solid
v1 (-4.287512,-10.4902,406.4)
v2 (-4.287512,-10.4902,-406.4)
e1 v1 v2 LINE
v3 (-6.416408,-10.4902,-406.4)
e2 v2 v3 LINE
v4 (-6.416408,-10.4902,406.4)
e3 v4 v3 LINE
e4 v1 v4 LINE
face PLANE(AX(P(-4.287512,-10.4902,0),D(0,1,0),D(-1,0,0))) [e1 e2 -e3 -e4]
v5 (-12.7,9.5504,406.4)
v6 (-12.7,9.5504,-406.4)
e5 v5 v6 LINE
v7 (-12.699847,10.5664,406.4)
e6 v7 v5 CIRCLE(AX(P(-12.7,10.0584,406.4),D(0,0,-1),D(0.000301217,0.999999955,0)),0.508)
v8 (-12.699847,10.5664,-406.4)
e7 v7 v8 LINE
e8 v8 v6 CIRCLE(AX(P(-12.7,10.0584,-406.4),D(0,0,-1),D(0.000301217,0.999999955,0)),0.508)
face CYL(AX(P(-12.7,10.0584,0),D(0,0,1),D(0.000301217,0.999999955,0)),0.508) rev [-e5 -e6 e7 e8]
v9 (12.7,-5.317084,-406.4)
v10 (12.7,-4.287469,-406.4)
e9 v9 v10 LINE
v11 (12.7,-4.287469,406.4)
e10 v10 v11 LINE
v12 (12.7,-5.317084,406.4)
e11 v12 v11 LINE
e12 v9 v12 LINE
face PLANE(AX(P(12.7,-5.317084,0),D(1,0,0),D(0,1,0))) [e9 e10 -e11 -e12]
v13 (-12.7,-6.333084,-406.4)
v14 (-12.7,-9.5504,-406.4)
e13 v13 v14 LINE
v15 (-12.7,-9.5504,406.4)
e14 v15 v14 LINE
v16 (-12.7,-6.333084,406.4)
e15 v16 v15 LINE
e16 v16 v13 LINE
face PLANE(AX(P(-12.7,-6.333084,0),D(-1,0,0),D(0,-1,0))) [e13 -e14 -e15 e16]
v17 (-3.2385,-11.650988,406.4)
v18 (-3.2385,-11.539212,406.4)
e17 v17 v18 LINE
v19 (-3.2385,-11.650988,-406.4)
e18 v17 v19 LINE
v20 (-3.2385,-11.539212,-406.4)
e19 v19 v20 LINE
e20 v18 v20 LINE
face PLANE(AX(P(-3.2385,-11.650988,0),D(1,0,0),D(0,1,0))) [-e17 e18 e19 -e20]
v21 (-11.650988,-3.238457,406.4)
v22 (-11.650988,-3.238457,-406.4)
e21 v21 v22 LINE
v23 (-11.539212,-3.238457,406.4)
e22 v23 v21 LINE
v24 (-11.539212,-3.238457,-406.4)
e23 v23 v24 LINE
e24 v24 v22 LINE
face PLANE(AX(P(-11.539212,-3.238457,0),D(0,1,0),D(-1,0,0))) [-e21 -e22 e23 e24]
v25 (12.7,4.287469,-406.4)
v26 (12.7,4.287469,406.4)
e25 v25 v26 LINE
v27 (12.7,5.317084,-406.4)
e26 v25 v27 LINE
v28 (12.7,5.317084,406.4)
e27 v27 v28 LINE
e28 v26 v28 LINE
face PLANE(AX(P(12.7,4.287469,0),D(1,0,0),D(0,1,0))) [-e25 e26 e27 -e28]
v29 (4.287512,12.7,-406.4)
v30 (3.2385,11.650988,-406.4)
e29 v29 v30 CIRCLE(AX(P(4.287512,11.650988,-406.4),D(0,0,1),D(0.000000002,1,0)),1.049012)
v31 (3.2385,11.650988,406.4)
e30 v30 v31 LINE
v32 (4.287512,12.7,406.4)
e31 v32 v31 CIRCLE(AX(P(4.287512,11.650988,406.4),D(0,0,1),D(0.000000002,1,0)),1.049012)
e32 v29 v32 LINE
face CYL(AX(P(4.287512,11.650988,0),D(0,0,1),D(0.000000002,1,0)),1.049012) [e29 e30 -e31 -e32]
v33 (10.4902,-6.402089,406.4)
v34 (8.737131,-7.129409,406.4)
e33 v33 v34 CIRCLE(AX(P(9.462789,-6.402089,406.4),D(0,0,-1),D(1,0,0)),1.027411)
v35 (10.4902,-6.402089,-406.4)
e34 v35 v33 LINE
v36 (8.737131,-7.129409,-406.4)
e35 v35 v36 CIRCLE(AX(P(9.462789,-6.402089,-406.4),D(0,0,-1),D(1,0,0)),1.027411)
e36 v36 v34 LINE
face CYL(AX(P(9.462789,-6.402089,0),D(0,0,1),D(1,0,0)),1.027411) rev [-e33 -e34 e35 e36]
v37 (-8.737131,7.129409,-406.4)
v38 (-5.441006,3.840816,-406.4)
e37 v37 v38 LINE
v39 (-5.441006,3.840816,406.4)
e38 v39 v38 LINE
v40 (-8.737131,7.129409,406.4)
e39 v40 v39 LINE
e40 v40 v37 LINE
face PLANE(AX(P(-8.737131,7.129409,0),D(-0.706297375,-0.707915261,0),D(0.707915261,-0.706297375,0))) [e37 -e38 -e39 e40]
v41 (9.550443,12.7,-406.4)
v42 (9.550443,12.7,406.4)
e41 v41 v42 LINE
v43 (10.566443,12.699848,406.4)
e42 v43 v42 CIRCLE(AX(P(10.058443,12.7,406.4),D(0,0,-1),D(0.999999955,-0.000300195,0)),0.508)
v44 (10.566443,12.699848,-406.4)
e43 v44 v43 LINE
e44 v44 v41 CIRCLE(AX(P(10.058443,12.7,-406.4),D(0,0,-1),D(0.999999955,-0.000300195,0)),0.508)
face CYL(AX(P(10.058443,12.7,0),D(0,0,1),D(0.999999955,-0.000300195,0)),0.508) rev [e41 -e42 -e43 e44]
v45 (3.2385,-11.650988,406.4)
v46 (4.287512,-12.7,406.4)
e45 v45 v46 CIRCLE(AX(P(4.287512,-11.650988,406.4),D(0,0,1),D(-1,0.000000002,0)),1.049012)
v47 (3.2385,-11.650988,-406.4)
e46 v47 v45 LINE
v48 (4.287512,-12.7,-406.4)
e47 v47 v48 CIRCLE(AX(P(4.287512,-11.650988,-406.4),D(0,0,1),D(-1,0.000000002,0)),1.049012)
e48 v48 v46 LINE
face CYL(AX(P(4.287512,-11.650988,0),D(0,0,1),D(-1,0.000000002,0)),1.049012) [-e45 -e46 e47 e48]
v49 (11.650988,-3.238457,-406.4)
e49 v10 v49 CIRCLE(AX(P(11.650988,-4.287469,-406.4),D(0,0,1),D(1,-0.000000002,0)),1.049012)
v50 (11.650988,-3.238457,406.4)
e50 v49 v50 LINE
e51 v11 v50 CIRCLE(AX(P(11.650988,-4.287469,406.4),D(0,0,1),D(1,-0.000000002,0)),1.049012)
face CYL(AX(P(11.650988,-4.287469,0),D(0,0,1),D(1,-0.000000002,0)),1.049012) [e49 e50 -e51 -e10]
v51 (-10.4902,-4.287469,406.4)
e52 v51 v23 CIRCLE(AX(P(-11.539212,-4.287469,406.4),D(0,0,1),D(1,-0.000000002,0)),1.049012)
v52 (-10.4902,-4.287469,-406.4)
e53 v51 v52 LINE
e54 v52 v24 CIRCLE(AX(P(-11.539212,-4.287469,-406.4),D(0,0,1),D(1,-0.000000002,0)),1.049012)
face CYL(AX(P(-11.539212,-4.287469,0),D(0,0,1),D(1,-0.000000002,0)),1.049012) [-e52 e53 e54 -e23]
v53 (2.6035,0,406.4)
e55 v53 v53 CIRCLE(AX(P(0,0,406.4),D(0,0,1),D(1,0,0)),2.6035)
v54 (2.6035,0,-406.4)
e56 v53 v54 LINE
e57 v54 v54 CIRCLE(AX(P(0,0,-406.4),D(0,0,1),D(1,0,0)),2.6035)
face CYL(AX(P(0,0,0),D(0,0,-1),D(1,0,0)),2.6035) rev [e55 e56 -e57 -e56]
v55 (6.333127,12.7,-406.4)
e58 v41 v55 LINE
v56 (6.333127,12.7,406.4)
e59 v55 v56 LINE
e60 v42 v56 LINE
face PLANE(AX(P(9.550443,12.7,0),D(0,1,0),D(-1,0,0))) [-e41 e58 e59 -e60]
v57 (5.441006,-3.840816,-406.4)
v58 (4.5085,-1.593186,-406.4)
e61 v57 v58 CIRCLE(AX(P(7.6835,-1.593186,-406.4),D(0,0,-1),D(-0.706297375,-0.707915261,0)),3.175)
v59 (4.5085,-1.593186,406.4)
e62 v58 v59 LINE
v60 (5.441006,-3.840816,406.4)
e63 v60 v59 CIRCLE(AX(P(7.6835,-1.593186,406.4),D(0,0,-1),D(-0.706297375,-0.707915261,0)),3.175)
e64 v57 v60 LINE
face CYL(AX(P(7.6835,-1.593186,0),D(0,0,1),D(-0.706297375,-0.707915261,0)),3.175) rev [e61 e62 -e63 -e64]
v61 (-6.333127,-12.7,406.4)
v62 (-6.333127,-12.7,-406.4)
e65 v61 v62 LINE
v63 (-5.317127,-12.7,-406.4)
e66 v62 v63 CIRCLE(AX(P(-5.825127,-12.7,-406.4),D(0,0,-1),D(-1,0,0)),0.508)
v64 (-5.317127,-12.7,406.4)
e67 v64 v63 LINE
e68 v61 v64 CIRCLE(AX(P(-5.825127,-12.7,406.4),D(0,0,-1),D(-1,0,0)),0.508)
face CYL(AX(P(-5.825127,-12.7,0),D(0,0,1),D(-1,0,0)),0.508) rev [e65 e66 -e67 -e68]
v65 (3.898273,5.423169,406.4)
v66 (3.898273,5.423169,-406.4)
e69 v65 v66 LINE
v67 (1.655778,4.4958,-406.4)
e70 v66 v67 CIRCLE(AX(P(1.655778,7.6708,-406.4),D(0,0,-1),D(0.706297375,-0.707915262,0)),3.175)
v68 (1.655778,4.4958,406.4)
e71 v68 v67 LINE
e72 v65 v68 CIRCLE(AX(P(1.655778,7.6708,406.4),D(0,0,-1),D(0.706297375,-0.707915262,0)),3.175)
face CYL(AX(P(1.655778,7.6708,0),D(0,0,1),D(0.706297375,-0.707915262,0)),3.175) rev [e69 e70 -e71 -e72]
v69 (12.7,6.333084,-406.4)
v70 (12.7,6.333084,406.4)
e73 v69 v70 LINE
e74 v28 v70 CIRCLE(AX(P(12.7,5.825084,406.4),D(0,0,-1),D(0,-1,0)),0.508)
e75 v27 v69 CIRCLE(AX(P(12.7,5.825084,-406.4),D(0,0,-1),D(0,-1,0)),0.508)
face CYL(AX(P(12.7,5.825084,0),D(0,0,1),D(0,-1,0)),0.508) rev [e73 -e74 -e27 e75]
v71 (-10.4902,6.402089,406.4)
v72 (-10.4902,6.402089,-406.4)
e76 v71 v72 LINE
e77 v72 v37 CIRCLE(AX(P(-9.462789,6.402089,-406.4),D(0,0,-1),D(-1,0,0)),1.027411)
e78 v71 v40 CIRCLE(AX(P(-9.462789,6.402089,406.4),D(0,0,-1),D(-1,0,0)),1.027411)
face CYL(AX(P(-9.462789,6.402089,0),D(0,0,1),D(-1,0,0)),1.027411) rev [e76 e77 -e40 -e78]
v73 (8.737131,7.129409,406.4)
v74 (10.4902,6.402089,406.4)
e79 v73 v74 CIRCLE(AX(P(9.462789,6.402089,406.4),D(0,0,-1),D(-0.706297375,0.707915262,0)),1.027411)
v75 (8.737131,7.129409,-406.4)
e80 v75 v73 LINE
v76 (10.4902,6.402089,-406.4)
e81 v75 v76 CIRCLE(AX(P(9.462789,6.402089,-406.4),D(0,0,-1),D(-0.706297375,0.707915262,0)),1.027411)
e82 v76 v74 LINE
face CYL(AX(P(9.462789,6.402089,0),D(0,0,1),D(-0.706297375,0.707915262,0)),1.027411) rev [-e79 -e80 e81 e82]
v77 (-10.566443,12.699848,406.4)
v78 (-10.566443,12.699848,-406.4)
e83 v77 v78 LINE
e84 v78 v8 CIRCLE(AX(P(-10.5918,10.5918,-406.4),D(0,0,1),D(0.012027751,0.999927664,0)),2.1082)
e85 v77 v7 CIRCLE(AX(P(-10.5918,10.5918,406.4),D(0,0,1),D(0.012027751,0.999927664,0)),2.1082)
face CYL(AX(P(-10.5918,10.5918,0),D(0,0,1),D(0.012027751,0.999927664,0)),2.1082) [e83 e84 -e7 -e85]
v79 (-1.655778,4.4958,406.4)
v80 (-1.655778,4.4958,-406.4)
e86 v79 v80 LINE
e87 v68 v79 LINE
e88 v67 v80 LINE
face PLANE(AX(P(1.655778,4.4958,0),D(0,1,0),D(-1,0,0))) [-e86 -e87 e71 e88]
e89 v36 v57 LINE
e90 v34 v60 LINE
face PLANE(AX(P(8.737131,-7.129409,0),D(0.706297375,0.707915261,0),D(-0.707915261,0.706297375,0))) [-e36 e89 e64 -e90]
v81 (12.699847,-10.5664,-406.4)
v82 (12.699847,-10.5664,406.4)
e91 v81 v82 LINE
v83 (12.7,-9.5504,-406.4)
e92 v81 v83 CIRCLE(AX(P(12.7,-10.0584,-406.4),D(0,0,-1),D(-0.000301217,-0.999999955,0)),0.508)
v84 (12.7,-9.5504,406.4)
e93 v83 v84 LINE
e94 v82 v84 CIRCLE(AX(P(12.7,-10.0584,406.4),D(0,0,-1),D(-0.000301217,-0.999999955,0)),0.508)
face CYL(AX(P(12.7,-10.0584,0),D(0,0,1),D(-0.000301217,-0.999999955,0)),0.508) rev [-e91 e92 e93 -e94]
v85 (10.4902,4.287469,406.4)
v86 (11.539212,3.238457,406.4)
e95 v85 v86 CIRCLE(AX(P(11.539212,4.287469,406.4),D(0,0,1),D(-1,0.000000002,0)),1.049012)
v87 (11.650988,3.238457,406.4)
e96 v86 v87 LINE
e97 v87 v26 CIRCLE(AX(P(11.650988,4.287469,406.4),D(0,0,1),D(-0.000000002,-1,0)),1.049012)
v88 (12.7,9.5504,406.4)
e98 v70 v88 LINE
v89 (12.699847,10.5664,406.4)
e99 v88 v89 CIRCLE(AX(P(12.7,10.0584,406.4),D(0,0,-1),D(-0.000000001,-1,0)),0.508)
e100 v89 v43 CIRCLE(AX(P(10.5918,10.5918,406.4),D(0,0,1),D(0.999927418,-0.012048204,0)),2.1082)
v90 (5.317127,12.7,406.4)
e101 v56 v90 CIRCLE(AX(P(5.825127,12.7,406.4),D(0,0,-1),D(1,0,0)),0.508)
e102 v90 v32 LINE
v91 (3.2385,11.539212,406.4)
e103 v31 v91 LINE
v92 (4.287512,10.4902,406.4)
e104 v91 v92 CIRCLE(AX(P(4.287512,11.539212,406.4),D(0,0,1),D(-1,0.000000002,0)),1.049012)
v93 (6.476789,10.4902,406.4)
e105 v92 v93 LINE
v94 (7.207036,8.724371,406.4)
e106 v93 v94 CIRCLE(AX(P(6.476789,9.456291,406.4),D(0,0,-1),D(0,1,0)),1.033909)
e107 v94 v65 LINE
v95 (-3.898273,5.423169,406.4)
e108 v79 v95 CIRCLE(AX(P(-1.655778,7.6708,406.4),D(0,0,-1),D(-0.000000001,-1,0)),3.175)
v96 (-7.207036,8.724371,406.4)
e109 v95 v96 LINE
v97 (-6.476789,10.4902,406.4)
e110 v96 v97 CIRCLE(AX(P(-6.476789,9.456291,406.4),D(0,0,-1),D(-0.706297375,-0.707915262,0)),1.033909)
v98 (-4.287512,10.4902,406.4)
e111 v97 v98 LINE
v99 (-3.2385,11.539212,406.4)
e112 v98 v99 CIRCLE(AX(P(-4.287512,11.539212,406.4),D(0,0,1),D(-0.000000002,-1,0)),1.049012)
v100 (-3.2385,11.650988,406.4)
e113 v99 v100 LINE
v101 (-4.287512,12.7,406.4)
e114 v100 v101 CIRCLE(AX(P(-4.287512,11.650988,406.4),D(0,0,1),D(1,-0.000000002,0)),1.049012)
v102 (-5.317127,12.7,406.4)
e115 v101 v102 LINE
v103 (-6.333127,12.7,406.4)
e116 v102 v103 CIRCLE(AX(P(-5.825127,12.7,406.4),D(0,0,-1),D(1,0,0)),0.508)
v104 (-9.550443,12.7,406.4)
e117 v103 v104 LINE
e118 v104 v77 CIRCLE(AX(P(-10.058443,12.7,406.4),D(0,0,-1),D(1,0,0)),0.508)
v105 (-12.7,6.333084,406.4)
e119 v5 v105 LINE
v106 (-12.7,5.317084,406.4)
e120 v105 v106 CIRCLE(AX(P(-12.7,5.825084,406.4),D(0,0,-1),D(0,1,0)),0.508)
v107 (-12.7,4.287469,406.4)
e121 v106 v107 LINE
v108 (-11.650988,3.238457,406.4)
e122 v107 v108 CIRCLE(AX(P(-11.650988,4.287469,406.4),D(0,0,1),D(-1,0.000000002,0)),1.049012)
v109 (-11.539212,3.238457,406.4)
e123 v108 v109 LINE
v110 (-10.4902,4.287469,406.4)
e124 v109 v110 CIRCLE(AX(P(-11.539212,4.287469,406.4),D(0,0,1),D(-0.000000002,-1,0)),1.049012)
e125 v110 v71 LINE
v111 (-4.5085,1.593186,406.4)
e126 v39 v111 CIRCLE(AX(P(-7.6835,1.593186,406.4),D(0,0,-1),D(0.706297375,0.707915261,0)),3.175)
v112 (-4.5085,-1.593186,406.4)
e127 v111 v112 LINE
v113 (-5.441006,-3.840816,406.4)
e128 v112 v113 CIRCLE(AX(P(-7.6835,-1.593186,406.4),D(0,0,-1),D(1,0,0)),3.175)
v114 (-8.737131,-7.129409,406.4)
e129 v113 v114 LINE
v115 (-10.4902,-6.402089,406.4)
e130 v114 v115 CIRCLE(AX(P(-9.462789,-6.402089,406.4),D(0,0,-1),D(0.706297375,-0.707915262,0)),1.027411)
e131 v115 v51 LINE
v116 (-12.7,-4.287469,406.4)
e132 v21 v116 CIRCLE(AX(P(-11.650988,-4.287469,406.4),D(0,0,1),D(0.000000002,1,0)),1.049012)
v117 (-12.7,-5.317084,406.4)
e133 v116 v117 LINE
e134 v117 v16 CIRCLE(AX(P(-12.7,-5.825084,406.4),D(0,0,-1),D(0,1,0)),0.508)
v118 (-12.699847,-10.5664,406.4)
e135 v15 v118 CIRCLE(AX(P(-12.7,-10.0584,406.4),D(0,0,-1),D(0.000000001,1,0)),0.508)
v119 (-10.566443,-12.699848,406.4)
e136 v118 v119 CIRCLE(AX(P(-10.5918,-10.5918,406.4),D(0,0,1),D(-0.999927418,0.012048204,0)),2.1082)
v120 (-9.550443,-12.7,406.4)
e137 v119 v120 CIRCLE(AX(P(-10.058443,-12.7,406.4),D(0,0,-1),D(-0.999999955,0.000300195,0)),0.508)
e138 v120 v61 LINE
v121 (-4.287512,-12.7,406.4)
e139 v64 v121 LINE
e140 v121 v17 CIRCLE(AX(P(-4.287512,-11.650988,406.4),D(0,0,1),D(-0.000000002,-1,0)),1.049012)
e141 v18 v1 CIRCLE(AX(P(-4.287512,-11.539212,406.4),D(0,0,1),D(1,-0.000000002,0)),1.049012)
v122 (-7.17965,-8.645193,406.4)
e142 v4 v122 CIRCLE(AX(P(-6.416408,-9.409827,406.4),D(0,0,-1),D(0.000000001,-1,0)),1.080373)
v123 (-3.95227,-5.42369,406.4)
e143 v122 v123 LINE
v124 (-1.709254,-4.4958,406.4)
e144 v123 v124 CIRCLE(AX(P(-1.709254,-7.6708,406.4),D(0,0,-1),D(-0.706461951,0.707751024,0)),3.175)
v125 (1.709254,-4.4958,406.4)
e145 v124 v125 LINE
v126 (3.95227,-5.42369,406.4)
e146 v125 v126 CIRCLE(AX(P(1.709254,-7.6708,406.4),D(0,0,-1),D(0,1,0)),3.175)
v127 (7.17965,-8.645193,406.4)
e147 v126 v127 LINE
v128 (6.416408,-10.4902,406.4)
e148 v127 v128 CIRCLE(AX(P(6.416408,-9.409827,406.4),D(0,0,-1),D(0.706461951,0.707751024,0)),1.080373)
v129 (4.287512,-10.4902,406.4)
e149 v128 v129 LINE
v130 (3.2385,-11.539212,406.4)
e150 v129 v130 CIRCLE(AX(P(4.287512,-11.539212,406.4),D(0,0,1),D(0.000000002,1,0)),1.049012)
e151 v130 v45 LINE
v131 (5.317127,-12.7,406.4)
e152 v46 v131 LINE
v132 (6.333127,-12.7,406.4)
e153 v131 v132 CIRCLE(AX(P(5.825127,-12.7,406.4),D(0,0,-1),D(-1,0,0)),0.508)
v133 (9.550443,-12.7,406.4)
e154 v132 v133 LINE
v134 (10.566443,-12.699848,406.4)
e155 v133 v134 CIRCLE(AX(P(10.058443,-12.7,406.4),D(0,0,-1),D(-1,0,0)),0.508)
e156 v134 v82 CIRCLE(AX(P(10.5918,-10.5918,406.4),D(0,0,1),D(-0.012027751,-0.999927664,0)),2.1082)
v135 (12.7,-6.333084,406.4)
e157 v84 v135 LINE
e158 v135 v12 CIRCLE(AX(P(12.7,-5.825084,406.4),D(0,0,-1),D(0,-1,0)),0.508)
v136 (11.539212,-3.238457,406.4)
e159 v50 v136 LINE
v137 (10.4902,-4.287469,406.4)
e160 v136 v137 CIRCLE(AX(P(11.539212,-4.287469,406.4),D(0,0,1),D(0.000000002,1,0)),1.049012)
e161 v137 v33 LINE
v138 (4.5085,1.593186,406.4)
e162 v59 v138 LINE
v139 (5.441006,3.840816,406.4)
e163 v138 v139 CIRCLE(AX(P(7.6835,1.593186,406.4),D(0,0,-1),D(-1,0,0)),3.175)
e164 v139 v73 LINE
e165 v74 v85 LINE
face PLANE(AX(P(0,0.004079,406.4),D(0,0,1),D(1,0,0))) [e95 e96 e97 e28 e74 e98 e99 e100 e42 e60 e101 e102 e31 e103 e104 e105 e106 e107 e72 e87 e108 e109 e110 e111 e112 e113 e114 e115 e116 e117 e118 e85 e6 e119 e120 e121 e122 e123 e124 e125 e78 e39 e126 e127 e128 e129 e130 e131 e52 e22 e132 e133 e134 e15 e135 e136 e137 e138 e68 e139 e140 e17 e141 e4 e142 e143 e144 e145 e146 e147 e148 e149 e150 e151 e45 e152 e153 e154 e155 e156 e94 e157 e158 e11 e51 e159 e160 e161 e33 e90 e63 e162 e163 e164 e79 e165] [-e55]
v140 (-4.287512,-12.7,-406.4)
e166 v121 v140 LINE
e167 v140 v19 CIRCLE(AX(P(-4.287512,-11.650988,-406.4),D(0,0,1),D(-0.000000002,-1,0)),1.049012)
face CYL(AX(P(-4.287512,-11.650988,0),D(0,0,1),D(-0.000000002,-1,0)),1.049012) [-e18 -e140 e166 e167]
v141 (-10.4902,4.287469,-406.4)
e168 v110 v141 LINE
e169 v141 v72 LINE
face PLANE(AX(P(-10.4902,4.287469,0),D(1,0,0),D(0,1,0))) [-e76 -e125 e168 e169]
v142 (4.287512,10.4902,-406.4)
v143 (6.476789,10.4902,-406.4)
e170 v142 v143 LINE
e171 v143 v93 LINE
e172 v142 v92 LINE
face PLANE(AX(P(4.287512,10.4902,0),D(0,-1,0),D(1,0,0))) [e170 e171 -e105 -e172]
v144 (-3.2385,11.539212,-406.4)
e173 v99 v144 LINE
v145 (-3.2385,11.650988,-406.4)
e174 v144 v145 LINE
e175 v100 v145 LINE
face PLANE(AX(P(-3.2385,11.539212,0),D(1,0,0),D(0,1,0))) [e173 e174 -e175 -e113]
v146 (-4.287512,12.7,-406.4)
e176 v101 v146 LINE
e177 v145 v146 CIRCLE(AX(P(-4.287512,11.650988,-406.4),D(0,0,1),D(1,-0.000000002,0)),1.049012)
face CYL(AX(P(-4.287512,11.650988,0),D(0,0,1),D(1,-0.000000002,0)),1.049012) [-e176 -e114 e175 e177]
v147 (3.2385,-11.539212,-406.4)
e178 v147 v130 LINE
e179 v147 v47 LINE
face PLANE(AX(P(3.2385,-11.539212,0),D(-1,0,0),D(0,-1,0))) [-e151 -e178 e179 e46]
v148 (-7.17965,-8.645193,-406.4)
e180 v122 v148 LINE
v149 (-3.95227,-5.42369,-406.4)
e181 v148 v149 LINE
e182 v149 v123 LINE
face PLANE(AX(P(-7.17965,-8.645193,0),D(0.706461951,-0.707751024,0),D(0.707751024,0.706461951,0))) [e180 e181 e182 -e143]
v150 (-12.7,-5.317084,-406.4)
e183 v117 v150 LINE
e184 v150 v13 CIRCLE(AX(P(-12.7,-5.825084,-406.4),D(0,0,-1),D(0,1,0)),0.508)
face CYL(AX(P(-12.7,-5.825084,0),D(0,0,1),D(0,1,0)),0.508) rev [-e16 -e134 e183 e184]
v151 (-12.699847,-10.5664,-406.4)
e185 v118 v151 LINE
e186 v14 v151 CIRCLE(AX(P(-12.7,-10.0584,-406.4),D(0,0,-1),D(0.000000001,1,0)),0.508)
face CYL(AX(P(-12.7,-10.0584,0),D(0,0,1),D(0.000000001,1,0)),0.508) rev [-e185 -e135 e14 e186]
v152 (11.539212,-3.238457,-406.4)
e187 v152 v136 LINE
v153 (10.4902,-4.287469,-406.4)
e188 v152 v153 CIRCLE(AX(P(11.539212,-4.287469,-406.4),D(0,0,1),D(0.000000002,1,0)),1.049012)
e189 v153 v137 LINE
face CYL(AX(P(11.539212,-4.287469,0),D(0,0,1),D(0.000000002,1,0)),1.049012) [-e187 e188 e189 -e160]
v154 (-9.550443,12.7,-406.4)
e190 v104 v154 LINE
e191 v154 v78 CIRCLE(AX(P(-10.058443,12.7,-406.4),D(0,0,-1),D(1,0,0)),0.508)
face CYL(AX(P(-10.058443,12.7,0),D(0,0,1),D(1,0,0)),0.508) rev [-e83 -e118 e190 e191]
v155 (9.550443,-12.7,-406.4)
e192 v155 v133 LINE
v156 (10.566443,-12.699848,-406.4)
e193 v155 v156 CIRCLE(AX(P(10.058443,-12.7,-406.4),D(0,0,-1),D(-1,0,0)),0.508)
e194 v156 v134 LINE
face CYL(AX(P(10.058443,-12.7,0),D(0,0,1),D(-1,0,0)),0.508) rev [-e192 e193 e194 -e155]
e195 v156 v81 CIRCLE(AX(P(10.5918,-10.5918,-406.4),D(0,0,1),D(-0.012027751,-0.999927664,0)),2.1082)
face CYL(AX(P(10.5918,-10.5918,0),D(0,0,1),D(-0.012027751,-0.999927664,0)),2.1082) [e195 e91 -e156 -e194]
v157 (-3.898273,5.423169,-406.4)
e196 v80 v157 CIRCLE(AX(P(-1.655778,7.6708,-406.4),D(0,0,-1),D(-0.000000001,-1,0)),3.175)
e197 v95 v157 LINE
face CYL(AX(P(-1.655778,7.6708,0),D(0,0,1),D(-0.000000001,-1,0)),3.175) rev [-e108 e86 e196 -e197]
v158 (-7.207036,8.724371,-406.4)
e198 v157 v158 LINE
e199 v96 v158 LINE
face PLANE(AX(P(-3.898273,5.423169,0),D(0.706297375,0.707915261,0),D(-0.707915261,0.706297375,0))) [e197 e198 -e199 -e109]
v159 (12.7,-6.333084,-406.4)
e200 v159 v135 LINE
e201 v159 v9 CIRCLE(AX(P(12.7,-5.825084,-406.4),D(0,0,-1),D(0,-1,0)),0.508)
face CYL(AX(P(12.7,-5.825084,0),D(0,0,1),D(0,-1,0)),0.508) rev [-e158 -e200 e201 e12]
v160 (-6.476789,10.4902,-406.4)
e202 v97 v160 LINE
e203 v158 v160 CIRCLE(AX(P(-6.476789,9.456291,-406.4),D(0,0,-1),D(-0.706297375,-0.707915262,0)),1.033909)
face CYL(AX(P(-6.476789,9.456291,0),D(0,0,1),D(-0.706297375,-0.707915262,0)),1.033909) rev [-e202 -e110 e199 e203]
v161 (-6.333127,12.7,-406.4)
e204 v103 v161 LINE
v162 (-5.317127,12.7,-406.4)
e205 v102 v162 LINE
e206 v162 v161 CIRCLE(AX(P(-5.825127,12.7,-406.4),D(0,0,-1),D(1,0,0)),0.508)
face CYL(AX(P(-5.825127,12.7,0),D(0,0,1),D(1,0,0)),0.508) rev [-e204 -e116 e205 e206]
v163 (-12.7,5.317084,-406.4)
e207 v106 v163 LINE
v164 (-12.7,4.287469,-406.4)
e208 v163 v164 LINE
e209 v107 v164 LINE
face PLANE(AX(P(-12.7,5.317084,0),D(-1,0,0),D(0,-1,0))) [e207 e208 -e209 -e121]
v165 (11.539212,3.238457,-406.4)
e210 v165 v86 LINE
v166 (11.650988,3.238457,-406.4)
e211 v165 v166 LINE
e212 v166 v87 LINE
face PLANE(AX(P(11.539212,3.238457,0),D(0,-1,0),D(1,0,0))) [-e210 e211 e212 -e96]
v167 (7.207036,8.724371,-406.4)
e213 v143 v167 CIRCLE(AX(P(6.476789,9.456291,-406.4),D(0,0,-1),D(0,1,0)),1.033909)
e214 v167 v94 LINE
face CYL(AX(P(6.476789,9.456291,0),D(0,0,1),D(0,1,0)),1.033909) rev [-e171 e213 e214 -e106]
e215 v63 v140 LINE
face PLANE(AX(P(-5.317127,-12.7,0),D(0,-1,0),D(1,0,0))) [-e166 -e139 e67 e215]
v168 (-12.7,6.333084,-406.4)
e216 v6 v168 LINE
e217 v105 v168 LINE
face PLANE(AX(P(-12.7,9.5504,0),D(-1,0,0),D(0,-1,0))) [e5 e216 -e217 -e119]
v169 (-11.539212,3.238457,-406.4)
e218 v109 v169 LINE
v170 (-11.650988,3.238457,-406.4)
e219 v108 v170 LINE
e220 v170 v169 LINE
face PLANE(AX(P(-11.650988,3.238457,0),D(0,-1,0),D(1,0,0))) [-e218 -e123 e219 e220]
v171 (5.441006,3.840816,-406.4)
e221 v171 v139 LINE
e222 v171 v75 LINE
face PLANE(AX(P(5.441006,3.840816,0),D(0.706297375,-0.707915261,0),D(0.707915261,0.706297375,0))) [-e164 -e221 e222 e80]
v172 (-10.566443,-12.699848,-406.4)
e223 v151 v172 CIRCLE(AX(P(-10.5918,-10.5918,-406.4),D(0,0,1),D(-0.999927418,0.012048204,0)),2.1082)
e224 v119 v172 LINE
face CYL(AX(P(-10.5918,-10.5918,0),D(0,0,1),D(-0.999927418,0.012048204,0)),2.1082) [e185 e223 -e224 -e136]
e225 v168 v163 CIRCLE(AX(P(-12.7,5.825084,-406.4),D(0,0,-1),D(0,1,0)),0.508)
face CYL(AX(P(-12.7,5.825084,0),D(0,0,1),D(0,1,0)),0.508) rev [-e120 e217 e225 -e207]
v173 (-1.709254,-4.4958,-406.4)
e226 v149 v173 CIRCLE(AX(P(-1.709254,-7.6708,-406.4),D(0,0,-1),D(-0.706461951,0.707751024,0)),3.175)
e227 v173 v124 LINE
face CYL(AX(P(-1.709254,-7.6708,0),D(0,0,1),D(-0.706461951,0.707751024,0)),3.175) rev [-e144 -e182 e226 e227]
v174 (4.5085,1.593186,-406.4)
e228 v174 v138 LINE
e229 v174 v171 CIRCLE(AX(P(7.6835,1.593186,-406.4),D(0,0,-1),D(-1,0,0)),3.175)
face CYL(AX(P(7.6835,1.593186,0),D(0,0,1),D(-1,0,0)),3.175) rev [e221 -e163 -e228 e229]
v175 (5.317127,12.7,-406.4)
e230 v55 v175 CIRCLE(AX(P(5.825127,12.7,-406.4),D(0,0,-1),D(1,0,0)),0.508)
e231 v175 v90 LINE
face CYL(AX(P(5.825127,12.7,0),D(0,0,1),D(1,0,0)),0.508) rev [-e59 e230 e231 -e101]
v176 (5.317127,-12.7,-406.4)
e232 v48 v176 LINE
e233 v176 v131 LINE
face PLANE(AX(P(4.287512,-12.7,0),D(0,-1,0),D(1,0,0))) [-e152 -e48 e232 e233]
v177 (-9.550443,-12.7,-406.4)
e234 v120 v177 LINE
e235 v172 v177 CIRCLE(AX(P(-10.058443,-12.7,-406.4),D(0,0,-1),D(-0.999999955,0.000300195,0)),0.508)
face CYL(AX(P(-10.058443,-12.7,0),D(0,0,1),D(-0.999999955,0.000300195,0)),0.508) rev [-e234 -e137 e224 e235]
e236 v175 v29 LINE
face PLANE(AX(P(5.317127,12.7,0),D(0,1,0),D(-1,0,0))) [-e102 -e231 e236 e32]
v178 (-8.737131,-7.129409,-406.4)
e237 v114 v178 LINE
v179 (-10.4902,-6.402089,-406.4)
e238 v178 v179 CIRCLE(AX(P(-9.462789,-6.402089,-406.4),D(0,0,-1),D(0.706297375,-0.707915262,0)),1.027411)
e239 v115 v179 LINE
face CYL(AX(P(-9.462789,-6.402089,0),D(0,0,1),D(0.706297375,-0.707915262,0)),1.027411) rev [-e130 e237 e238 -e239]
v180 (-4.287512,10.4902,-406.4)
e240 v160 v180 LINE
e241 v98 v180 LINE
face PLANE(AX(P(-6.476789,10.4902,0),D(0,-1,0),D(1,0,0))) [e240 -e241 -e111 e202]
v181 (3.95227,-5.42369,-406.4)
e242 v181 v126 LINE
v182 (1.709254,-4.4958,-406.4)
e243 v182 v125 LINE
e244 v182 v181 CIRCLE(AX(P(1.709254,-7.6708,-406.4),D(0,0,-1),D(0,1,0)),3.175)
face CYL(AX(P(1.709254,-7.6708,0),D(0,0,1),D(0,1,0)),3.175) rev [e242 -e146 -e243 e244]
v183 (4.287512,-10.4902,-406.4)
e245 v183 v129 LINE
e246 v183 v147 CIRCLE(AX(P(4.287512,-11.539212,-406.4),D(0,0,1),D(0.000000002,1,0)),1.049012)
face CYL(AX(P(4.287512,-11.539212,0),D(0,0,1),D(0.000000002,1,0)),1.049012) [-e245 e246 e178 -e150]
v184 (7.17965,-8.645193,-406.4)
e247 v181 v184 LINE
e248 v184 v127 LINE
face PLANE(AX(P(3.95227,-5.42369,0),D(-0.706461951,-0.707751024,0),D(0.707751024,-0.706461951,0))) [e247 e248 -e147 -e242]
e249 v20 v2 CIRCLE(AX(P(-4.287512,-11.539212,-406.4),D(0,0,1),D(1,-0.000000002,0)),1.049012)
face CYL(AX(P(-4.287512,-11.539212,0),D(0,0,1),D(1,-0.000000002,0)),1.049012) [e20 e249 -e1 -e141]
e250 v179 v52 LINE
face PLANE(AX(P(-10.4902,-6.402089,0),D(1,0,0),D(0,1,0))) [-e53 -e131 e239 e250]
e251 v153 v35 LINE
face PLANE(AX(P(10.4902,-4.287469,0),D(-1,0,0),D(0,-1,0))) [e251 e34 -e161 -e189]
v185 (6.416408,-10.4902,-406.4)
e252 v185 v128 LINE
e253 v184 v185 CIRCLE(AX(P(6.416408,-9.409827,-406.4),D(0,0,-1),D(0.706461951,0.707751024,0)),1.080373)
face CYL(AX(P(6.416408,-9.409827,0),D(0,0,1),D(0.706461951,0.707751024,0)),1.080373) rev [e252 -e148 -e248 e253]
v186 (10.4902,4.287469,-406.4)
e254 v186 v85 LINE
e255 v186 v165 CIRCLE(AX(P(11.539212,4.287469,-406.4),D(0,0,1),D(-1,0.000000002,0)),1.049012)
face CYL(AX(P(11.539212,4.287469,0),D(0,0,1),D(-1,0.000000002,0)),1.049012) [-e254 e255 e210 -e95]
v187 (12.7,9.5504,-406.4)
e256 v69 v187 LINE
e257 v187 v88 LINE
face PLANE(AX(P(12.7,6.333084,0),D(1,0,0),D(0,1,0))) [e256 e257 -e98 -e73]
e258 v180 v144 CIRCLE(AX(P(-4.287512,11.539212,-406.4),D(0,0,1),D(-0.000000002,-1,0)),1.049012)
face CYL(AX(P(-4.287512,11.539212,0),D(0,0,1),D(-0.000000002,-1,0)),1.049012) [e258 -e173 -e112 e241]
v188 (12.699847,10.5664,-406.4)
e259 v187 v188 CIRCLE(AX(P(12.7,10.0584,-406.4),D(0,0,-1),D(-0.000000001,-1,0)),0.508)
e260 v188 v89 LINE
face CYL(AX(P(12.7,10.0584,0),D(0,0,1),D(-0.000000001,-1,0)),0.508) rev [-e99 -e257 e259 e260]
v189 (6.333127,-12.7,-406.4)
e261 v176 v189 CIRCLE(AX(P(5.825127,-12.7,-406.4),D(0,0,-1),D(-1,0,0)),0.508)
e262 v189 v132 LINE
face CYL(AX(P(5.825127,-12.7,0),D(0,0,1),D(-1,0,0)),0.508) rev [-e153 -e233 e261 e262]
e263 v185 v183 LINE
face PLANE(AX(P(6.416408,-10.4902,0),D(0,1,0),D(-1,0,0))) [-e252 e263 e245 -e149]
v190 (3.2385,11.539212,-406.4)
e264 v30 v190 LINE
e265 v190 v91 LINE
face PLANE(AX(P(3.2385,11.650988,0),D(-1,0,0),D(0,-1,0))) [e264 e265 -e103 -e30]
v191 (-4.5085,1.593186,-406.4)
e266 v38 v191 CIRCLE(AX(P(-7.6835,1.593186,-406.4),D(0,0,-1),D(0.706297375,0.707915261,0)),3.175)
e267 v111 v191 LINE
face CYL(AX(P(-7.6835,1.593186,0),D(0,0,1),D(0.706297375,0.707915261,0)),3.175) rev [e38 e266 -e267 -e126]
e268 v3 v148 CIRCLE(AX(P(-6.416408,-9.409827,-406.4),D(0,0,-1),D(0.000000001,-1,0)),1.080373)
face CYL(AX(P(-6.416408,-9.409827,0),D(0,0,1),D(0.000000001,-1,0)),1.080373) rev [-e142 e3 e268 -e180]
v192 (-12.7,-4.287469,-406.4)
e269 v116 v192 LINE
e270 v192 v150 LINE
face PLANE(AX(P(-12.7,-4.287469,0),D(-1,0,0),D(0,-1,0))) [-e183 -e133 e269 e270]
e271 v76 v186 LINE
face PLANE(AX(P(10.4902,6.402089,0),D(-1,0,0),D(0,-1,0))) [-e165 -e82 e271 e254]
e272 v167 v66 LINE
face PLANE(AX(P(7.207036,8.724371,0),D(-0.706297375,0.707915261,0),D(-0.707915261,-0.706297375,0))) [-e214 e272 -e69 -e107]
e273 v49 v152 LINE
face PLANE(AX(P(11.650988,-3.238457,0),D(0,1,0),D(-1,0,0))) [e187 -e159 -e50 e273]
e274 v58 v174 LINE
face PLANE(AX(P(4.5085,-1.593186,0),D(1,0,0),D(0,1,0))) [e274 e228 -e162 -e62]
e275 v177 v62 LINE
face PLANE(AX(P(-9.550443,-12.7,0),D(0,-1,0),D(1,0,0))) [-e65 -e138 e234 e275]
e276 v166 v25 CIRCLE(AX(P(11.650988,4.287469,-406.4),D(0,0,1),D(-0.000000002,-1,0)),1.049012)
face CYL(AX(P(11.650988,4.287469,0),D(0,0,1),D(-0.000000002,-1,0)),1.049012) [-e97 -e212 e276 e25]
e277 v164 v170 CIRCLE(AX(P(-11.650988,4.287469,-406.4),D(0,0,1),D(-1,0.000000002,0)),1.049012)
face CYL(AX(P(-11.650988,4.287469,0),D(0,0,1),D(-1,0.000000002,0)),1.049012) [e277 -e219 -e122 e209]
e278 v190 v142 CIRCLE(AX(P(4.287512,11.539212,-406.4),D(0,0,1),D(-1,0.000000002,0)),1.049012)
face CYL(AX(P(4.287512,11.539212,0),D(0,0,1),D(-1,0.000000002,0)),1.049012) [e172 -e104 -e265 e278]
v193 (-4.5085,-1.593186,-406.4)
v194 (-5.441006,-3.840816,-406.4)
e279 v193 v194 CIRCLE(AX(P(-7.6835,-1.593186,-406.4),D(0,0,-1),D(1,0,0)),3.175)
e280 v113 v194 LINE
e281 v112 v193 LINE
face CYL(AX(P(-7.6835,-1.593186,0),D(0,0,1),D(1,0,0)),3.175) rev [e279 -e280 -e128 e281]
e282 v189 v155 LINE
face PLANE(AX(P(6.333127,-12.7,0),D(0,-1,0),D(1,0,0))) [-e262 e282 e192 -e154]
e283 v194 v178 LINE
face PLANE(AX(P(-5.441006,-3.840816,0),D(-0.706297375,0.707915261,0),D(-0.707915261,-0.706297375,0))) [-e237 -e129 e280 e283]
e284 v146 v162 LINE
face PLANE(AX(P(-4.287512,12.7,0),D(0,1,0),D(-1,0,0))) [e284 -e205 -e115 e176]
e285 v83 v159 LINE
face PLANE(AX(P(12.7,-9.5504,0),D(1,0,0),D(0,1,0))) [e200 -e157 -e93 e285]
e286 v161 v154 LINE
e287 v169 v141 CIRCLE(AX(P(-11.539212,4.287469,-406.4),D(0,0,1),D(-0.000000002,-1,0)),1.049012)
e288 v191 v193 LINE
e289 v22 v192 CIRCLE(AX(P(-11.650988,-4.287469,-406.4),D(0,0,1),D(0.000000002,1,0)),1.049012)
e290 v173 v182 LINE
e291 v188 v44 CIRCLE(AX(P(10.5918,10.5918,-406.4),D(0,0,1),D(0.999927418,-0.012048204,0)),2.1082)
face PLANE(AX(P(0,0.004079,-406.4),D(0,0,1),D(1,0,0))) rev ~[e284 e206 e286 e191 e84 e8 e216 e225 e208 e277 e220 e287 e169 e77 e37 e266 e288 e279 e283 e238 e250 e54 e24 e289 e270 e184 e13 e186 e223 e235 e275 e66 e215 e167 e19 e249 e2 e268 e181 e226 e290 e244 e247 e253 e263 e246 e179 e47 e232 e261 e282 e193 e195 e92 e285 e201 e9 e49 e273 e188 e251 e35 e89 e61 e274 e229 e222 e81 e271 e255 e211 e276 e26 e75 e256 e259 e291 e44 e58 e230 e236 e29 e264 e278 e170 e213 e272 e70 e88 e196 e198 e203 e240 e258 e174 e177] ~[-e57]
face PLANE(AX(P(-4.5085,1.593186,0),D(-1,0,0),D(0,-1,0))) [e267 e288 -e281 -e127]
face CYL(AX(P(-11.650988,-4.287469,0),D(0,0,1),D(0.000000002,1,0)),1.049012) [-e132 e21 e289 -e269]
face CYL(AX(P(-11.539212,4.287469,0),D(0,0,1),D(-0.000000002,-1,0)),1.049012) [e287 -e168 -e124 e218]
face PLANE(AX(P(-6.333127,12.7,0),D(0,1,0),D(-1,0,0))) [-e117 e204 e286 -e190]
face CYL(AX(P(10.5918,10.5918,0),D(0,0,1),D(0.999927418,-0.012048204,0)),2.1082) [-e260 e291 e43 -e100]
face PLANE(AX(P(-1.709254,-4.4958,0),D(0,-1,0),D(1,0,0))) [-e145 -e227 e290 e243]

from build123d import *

# Parameters (mm, degrees)
SKETCH1_R           = 2.6035
BOSS_EXTRUDE1_DEPTH = 406.4


with BuildPart() as part:
    # Sketch1 → Boss-Extrude1 (new, symmetric)
    with BuildSketch(Plane.XY):
        with BuildLine():
            Line((-7.179650497, -8.645192506), (-3.952270251, -5.423690499))
            ThreePointArc((-3.952270251, -5.423690499), (-2.922936451, -4.736929036), (-1.709253557, -4.4958))
            Line((-1.709253557, -4.4958), (1.709253557, -4.4958))
            ThreePointArc((1.709253557, -4.4958), (2.922936451, -4.736929036), (3.952270251, -5.423690499))
            Line((3.952270251, -5.423690499), (7.179650497, -8.645192506))
            ThreePointArc((7.179650497, -8.645192506), (7.41473083, -9.822813117), (6.416408329, -10.4902))
            Line((6.416408329, -10.4902), (4.287512407, -10.4902))
            ThreePointArc((4.287512407, -10.4902), (3.54574862, -10.79744862), (3.2385, -11.539212407))
            Line((3.2385, -11.539212407), (3.2385, -11.650987593))
            ThreePointArc((3.2385, -11.650987593), (3.54574862, -12.39275138), (4.287512407, -12.7))
            Line((4.287512407, -12.7), (5.317126718, -12.7))
            ThreePointArc((5.317126718, -12.7), (5.825126718, -12.192), (6.333126718, -12.7))
            Line((6.333126718, -12.7), (9.550443118, -12.7))
            ThreePointArc((9.550443118, -12.7), (10.058366869, -12.192000006), (10.566443095, -12.699847501))
            ThreePointArc((10.566443095, -12.699847501), (12.082537762, -12.08250727), (12.699846982, -10.566399977))
            ThreePointArc((12.699846982, -10.566399977), (12.192000006, -10.058323491), (12.7, -9.5504))
            Line((12.7, -9.5504), (12.7, -6.3330836))
            ThreePointArc((12.7, -6.3330836), (12.192, -5.8250836), (12.7, -5.3170836))
            Line((12.7, -5.3170836), (12.7, -4.287469289))
            ThreePointArc((12.7, -4.287469289), (12.39275138, -3.545705502), (11.650987593, -3.238456882))
            Line((11.650987593, -3.238456882), (11.539212407, -3.238456882))
            ThreePointArc((11.539212407, -3.238456882), (10.79744862, -3.545705502), (10.4902, -4.287469289))
            Line((10.4902, -4.287469289), (10.4902, -6.402089023))
            ThreePointArc((10.4902, -6.402089023), (9.856505071, -7.351067942), (8.737131347, -7.129408934))
            Line((8.737131347, -7.129408934), (5.441005833, -3.840816462))
            ThreePointArc((5.441005833, -3.840816462), (4.750877967, -2.809883091), (4.5085, -1.593185507))
            Line((4.5085, -1.593185507), (4.5085, 1.593185507))
            ThreePointArc((4.5085, 1.593185507), (4.750877967, 2.809883091), (5.441005833, 3.840816462))
            Line((5.441005833, 3.840816462), (8.737131347, 7.129408934))
            ThreePointArc((8.737131347, 7.129408934), (9.856505071, 7.351067942), (10.4902, 6.402089023))
            Line((10.4902, 6.402089023), (10.4902, 4.287469289))
            ThreePointArc((10.4902, 4.287469289), (10.79744862, 3.545705502), (11.539212407, 3.238456882))
            Line((11.539212407, 3.238456882), (11.650987593, 3.238456882))
            ThreePointArc((11.650987593, 3.238456882), (12.39275138, 3.545705502), (12.7, 4.287469289))
            Line((12.7, 4.287469289), (12.7, 5.3170836))
            ThreePointArc((12.7, 5.3170836), (12.192, 5.8250836), (12.7, 6.3330836))
            Line((12.7, 6.3330836), (12.7, 9.5504))
            ThreePointArc((12.7, 9.5504), (12.192000006, 10.058323491), (12.699846982, 10.566399977))
            ThreePointArc((12.699846982, 10.566399977), (12.082537762, 12.08250727), (10.566443095, 12.699847501))
            ThreePointArc((10.566443095, 12.699847501), (10.058366869, 12.192000006), (9.550443118, 12.7))
            Line((9.550443118, 12.7), (6.333126718, 12.7))
            ThreePointArc((6.333126718, 12.7), (5.825126718, 12.192), (5.317126718, 12.7))
            Line((5.317126718, 12.7), (4.287512407, 12.7))
            ThreePointArc((4.287512407, 12.7), (3.54574862, 12.39275138), (3.2385, 11.650987593))
            Line((3.2385, 11.650987593), (3.2385, 11.539212407))
            ThreePointArc((3.2385, 11.539212407), (3.54574862, 10.79744862), (4.287512407, 10.4902))
            Line((4.287512407, 10.4902), (6.476788598, 10.4902))
            ThreePointArc((6.476788598, 10.4902), (7.432222385, 9.85140422), (7.207036008, 8.724370562))
            Line((7.207036008, 8.724370562), (3.898272566, 5.423169045))
            ThreePointArc((3.898272566, 5.423169045), (2.869120213, 4.736787962), (1.655778399, 4.4958))
            Line((1.655778399, 4.4958), (-1.655778399, 4.4958))
            ThreePointArc((-1.655778399, 4.4958), (-2.869120213, 4.736787962), (-3.898272566, 5.423169045))
            Line((-3.898272566, 5.423169045), (-7.207036008, 8.724370562))
            ThreePointArc((-7.207036008, 8.724370562), (-7.432222385, 9.85140422), (-6.476788598, 10.4902))
            Line((-6.476788598, 10.4902), (-4.287512407, 10.4902))
            ThreePointArc((-4.287512407, 10.4902), (-3.54574862, 10.79744862), (-3.2385, 11.539212407))
            Line((-3.2385, 11.539212407), (-3.2385, 11.650987593))
            ThreePointArc((-3.2385, 11.650987593), (-3.54574862, 12.39275138), (-4.287512407, 12.7))
            Line((-4.287512407, 12.7), (-5.317126718, 12.7))
            ThreePointArc((-5.317126718, 12.7), (-5.825126718, 12.192), (-6.333126718, 12.7))
            Line((-6.333126718, 12.7), (-9.550443118, 12.7))
            ThreePointArc((-9.550443118, 12.7), (-10.058366869, 12.192000006), (-10.566443095, 12.699847501))
            ThreePointArc((-10.566443095, 12.699847501), (-12.082537762, 12.08250727), (-12.699846982, 10.566399977))
            ThreePointArc((-12.699846982, 10.566399977), (-12.192000006, 10.058323491), (-12.7, 9.5504))
            Line((-12.7, 9.5504), (-12.7, 6.3330836))
            ThreePointArc((-12.7, 6.3330836), (-12.192, 5.8250836), (-12.7, 5.3170836))
            Line((-12.7, 5.3170836), (-12.7, 4.287469289))
            ThreePointArc((-12.7, 4.287469289), (-12.39275138, 3.545705502), (-11.650987593, 3.238456882))
            Line((-11.650987593, 3.238456882), (-11.539212407, 3.238456882))
            ThreePointArc((-11.539212407, 3.238456882), (-10.79744862, 3.545705502), (-10.4902, 4.287469289))
            Line((-10.4902, 4.287469289), (-10.4902, 6.402089023))
            ThreePointArc((-10.4902, 6.402089023), (-9.856505071, 7.351067942), (-8.737131347, 7.129408934))
            Line((-8.737131347, 7.129408934), (-5.441005833, 3.840816462))
            ThreePointArc((-5.441005833, 3.840816462), (-4.750877967, 2.809883091), (-4.5085, 1.593185507))
            Line((-4.5085, 1.593185507), (-4.5085, -1.593185507))
            ThreePointArc((-4.5085, -1.593185507), (-4.750877967, -2.809883091), (-5.441005833, -3.840816462))
            Line((-5.441005833, -3.840816462), (-8.737131347, -7.129408934))
            ThreePointArc((-8.737131347, -7.129408934), (-9.856505071, -7.351067942), (-10.4902, -6.402089023))
            Line((-10.4902, -6.402089023), (-10.4902, -4.287469289))
            ThreePointArc((-10.4902, -4.287469289), (-10.79744862, -3.545705502), (-11.539212407, -3.238456882))
            Line((-11.539212407, -3.238456882), (-11.650987593, -3.238456882))
            ThreePointArc((-11.650987593, -3.238456882), (-12.39275138, -3.545705502), (-12.7, -4.287469289))
            Line((-12.7, -4.287469289), (-12.7, -5.3170836))
            ThreePointArc((-12.7, -5.3170836), (-12.192, -5.8250836), (-12.7, -6.3330836))
            Line((-12.7, -6.3330836), (-12.7, -9.5504))
            ThreePointArc((-12.7, -9.5504), (-12.192000006, -10.058323491), (-12.699846982, -10.566399977))
            ThreePointArc((-12.699846982, -10.566399977), (-12.082537762, -12.08250727), (-10.566443095, -12.699847501))
            ThreePointArc((-10.566443095, -12.699847501), (-10.058366869, -12.192000006), (-9.550443118, -12.7))
            Line((-9.550443118, -12.7), (-6.333126718, -12.7))
            ThreePointArc((-6.333126718, -12.7), (-5.825126718, -12.192), (-5.317126718, -12.7))
            Line((-5.317126718, -12.7), (-4.287512407, -12.7))
            ThreePointArc((-4.287512407, -12.7), (-3.54574862, -12.39275138), (-3.2385, -11.650987593))
            Line((-3.2385, -11.650987593), (-3.2385, -11.539212407))
            ThreePointArc((-3.2385, -11.539212407), (-3.54574862, -10.79744862), (-4.287512407, -10.4902))
            Line((-4.287512407, -10.4902), (-6.416408329, -10.4902))
            ThreePointArc((-6.416408329, -10.4902), (-7.41473083, -9.822813117), (-7.179650497, -8.645192506))
        make_face()
        Circle(SKETCH1_R, mode=Mode.SUBTRACT)
    extrude(amount=BOSS_EXTRUDE1_DEPTH, both=True)


solid = part.part
